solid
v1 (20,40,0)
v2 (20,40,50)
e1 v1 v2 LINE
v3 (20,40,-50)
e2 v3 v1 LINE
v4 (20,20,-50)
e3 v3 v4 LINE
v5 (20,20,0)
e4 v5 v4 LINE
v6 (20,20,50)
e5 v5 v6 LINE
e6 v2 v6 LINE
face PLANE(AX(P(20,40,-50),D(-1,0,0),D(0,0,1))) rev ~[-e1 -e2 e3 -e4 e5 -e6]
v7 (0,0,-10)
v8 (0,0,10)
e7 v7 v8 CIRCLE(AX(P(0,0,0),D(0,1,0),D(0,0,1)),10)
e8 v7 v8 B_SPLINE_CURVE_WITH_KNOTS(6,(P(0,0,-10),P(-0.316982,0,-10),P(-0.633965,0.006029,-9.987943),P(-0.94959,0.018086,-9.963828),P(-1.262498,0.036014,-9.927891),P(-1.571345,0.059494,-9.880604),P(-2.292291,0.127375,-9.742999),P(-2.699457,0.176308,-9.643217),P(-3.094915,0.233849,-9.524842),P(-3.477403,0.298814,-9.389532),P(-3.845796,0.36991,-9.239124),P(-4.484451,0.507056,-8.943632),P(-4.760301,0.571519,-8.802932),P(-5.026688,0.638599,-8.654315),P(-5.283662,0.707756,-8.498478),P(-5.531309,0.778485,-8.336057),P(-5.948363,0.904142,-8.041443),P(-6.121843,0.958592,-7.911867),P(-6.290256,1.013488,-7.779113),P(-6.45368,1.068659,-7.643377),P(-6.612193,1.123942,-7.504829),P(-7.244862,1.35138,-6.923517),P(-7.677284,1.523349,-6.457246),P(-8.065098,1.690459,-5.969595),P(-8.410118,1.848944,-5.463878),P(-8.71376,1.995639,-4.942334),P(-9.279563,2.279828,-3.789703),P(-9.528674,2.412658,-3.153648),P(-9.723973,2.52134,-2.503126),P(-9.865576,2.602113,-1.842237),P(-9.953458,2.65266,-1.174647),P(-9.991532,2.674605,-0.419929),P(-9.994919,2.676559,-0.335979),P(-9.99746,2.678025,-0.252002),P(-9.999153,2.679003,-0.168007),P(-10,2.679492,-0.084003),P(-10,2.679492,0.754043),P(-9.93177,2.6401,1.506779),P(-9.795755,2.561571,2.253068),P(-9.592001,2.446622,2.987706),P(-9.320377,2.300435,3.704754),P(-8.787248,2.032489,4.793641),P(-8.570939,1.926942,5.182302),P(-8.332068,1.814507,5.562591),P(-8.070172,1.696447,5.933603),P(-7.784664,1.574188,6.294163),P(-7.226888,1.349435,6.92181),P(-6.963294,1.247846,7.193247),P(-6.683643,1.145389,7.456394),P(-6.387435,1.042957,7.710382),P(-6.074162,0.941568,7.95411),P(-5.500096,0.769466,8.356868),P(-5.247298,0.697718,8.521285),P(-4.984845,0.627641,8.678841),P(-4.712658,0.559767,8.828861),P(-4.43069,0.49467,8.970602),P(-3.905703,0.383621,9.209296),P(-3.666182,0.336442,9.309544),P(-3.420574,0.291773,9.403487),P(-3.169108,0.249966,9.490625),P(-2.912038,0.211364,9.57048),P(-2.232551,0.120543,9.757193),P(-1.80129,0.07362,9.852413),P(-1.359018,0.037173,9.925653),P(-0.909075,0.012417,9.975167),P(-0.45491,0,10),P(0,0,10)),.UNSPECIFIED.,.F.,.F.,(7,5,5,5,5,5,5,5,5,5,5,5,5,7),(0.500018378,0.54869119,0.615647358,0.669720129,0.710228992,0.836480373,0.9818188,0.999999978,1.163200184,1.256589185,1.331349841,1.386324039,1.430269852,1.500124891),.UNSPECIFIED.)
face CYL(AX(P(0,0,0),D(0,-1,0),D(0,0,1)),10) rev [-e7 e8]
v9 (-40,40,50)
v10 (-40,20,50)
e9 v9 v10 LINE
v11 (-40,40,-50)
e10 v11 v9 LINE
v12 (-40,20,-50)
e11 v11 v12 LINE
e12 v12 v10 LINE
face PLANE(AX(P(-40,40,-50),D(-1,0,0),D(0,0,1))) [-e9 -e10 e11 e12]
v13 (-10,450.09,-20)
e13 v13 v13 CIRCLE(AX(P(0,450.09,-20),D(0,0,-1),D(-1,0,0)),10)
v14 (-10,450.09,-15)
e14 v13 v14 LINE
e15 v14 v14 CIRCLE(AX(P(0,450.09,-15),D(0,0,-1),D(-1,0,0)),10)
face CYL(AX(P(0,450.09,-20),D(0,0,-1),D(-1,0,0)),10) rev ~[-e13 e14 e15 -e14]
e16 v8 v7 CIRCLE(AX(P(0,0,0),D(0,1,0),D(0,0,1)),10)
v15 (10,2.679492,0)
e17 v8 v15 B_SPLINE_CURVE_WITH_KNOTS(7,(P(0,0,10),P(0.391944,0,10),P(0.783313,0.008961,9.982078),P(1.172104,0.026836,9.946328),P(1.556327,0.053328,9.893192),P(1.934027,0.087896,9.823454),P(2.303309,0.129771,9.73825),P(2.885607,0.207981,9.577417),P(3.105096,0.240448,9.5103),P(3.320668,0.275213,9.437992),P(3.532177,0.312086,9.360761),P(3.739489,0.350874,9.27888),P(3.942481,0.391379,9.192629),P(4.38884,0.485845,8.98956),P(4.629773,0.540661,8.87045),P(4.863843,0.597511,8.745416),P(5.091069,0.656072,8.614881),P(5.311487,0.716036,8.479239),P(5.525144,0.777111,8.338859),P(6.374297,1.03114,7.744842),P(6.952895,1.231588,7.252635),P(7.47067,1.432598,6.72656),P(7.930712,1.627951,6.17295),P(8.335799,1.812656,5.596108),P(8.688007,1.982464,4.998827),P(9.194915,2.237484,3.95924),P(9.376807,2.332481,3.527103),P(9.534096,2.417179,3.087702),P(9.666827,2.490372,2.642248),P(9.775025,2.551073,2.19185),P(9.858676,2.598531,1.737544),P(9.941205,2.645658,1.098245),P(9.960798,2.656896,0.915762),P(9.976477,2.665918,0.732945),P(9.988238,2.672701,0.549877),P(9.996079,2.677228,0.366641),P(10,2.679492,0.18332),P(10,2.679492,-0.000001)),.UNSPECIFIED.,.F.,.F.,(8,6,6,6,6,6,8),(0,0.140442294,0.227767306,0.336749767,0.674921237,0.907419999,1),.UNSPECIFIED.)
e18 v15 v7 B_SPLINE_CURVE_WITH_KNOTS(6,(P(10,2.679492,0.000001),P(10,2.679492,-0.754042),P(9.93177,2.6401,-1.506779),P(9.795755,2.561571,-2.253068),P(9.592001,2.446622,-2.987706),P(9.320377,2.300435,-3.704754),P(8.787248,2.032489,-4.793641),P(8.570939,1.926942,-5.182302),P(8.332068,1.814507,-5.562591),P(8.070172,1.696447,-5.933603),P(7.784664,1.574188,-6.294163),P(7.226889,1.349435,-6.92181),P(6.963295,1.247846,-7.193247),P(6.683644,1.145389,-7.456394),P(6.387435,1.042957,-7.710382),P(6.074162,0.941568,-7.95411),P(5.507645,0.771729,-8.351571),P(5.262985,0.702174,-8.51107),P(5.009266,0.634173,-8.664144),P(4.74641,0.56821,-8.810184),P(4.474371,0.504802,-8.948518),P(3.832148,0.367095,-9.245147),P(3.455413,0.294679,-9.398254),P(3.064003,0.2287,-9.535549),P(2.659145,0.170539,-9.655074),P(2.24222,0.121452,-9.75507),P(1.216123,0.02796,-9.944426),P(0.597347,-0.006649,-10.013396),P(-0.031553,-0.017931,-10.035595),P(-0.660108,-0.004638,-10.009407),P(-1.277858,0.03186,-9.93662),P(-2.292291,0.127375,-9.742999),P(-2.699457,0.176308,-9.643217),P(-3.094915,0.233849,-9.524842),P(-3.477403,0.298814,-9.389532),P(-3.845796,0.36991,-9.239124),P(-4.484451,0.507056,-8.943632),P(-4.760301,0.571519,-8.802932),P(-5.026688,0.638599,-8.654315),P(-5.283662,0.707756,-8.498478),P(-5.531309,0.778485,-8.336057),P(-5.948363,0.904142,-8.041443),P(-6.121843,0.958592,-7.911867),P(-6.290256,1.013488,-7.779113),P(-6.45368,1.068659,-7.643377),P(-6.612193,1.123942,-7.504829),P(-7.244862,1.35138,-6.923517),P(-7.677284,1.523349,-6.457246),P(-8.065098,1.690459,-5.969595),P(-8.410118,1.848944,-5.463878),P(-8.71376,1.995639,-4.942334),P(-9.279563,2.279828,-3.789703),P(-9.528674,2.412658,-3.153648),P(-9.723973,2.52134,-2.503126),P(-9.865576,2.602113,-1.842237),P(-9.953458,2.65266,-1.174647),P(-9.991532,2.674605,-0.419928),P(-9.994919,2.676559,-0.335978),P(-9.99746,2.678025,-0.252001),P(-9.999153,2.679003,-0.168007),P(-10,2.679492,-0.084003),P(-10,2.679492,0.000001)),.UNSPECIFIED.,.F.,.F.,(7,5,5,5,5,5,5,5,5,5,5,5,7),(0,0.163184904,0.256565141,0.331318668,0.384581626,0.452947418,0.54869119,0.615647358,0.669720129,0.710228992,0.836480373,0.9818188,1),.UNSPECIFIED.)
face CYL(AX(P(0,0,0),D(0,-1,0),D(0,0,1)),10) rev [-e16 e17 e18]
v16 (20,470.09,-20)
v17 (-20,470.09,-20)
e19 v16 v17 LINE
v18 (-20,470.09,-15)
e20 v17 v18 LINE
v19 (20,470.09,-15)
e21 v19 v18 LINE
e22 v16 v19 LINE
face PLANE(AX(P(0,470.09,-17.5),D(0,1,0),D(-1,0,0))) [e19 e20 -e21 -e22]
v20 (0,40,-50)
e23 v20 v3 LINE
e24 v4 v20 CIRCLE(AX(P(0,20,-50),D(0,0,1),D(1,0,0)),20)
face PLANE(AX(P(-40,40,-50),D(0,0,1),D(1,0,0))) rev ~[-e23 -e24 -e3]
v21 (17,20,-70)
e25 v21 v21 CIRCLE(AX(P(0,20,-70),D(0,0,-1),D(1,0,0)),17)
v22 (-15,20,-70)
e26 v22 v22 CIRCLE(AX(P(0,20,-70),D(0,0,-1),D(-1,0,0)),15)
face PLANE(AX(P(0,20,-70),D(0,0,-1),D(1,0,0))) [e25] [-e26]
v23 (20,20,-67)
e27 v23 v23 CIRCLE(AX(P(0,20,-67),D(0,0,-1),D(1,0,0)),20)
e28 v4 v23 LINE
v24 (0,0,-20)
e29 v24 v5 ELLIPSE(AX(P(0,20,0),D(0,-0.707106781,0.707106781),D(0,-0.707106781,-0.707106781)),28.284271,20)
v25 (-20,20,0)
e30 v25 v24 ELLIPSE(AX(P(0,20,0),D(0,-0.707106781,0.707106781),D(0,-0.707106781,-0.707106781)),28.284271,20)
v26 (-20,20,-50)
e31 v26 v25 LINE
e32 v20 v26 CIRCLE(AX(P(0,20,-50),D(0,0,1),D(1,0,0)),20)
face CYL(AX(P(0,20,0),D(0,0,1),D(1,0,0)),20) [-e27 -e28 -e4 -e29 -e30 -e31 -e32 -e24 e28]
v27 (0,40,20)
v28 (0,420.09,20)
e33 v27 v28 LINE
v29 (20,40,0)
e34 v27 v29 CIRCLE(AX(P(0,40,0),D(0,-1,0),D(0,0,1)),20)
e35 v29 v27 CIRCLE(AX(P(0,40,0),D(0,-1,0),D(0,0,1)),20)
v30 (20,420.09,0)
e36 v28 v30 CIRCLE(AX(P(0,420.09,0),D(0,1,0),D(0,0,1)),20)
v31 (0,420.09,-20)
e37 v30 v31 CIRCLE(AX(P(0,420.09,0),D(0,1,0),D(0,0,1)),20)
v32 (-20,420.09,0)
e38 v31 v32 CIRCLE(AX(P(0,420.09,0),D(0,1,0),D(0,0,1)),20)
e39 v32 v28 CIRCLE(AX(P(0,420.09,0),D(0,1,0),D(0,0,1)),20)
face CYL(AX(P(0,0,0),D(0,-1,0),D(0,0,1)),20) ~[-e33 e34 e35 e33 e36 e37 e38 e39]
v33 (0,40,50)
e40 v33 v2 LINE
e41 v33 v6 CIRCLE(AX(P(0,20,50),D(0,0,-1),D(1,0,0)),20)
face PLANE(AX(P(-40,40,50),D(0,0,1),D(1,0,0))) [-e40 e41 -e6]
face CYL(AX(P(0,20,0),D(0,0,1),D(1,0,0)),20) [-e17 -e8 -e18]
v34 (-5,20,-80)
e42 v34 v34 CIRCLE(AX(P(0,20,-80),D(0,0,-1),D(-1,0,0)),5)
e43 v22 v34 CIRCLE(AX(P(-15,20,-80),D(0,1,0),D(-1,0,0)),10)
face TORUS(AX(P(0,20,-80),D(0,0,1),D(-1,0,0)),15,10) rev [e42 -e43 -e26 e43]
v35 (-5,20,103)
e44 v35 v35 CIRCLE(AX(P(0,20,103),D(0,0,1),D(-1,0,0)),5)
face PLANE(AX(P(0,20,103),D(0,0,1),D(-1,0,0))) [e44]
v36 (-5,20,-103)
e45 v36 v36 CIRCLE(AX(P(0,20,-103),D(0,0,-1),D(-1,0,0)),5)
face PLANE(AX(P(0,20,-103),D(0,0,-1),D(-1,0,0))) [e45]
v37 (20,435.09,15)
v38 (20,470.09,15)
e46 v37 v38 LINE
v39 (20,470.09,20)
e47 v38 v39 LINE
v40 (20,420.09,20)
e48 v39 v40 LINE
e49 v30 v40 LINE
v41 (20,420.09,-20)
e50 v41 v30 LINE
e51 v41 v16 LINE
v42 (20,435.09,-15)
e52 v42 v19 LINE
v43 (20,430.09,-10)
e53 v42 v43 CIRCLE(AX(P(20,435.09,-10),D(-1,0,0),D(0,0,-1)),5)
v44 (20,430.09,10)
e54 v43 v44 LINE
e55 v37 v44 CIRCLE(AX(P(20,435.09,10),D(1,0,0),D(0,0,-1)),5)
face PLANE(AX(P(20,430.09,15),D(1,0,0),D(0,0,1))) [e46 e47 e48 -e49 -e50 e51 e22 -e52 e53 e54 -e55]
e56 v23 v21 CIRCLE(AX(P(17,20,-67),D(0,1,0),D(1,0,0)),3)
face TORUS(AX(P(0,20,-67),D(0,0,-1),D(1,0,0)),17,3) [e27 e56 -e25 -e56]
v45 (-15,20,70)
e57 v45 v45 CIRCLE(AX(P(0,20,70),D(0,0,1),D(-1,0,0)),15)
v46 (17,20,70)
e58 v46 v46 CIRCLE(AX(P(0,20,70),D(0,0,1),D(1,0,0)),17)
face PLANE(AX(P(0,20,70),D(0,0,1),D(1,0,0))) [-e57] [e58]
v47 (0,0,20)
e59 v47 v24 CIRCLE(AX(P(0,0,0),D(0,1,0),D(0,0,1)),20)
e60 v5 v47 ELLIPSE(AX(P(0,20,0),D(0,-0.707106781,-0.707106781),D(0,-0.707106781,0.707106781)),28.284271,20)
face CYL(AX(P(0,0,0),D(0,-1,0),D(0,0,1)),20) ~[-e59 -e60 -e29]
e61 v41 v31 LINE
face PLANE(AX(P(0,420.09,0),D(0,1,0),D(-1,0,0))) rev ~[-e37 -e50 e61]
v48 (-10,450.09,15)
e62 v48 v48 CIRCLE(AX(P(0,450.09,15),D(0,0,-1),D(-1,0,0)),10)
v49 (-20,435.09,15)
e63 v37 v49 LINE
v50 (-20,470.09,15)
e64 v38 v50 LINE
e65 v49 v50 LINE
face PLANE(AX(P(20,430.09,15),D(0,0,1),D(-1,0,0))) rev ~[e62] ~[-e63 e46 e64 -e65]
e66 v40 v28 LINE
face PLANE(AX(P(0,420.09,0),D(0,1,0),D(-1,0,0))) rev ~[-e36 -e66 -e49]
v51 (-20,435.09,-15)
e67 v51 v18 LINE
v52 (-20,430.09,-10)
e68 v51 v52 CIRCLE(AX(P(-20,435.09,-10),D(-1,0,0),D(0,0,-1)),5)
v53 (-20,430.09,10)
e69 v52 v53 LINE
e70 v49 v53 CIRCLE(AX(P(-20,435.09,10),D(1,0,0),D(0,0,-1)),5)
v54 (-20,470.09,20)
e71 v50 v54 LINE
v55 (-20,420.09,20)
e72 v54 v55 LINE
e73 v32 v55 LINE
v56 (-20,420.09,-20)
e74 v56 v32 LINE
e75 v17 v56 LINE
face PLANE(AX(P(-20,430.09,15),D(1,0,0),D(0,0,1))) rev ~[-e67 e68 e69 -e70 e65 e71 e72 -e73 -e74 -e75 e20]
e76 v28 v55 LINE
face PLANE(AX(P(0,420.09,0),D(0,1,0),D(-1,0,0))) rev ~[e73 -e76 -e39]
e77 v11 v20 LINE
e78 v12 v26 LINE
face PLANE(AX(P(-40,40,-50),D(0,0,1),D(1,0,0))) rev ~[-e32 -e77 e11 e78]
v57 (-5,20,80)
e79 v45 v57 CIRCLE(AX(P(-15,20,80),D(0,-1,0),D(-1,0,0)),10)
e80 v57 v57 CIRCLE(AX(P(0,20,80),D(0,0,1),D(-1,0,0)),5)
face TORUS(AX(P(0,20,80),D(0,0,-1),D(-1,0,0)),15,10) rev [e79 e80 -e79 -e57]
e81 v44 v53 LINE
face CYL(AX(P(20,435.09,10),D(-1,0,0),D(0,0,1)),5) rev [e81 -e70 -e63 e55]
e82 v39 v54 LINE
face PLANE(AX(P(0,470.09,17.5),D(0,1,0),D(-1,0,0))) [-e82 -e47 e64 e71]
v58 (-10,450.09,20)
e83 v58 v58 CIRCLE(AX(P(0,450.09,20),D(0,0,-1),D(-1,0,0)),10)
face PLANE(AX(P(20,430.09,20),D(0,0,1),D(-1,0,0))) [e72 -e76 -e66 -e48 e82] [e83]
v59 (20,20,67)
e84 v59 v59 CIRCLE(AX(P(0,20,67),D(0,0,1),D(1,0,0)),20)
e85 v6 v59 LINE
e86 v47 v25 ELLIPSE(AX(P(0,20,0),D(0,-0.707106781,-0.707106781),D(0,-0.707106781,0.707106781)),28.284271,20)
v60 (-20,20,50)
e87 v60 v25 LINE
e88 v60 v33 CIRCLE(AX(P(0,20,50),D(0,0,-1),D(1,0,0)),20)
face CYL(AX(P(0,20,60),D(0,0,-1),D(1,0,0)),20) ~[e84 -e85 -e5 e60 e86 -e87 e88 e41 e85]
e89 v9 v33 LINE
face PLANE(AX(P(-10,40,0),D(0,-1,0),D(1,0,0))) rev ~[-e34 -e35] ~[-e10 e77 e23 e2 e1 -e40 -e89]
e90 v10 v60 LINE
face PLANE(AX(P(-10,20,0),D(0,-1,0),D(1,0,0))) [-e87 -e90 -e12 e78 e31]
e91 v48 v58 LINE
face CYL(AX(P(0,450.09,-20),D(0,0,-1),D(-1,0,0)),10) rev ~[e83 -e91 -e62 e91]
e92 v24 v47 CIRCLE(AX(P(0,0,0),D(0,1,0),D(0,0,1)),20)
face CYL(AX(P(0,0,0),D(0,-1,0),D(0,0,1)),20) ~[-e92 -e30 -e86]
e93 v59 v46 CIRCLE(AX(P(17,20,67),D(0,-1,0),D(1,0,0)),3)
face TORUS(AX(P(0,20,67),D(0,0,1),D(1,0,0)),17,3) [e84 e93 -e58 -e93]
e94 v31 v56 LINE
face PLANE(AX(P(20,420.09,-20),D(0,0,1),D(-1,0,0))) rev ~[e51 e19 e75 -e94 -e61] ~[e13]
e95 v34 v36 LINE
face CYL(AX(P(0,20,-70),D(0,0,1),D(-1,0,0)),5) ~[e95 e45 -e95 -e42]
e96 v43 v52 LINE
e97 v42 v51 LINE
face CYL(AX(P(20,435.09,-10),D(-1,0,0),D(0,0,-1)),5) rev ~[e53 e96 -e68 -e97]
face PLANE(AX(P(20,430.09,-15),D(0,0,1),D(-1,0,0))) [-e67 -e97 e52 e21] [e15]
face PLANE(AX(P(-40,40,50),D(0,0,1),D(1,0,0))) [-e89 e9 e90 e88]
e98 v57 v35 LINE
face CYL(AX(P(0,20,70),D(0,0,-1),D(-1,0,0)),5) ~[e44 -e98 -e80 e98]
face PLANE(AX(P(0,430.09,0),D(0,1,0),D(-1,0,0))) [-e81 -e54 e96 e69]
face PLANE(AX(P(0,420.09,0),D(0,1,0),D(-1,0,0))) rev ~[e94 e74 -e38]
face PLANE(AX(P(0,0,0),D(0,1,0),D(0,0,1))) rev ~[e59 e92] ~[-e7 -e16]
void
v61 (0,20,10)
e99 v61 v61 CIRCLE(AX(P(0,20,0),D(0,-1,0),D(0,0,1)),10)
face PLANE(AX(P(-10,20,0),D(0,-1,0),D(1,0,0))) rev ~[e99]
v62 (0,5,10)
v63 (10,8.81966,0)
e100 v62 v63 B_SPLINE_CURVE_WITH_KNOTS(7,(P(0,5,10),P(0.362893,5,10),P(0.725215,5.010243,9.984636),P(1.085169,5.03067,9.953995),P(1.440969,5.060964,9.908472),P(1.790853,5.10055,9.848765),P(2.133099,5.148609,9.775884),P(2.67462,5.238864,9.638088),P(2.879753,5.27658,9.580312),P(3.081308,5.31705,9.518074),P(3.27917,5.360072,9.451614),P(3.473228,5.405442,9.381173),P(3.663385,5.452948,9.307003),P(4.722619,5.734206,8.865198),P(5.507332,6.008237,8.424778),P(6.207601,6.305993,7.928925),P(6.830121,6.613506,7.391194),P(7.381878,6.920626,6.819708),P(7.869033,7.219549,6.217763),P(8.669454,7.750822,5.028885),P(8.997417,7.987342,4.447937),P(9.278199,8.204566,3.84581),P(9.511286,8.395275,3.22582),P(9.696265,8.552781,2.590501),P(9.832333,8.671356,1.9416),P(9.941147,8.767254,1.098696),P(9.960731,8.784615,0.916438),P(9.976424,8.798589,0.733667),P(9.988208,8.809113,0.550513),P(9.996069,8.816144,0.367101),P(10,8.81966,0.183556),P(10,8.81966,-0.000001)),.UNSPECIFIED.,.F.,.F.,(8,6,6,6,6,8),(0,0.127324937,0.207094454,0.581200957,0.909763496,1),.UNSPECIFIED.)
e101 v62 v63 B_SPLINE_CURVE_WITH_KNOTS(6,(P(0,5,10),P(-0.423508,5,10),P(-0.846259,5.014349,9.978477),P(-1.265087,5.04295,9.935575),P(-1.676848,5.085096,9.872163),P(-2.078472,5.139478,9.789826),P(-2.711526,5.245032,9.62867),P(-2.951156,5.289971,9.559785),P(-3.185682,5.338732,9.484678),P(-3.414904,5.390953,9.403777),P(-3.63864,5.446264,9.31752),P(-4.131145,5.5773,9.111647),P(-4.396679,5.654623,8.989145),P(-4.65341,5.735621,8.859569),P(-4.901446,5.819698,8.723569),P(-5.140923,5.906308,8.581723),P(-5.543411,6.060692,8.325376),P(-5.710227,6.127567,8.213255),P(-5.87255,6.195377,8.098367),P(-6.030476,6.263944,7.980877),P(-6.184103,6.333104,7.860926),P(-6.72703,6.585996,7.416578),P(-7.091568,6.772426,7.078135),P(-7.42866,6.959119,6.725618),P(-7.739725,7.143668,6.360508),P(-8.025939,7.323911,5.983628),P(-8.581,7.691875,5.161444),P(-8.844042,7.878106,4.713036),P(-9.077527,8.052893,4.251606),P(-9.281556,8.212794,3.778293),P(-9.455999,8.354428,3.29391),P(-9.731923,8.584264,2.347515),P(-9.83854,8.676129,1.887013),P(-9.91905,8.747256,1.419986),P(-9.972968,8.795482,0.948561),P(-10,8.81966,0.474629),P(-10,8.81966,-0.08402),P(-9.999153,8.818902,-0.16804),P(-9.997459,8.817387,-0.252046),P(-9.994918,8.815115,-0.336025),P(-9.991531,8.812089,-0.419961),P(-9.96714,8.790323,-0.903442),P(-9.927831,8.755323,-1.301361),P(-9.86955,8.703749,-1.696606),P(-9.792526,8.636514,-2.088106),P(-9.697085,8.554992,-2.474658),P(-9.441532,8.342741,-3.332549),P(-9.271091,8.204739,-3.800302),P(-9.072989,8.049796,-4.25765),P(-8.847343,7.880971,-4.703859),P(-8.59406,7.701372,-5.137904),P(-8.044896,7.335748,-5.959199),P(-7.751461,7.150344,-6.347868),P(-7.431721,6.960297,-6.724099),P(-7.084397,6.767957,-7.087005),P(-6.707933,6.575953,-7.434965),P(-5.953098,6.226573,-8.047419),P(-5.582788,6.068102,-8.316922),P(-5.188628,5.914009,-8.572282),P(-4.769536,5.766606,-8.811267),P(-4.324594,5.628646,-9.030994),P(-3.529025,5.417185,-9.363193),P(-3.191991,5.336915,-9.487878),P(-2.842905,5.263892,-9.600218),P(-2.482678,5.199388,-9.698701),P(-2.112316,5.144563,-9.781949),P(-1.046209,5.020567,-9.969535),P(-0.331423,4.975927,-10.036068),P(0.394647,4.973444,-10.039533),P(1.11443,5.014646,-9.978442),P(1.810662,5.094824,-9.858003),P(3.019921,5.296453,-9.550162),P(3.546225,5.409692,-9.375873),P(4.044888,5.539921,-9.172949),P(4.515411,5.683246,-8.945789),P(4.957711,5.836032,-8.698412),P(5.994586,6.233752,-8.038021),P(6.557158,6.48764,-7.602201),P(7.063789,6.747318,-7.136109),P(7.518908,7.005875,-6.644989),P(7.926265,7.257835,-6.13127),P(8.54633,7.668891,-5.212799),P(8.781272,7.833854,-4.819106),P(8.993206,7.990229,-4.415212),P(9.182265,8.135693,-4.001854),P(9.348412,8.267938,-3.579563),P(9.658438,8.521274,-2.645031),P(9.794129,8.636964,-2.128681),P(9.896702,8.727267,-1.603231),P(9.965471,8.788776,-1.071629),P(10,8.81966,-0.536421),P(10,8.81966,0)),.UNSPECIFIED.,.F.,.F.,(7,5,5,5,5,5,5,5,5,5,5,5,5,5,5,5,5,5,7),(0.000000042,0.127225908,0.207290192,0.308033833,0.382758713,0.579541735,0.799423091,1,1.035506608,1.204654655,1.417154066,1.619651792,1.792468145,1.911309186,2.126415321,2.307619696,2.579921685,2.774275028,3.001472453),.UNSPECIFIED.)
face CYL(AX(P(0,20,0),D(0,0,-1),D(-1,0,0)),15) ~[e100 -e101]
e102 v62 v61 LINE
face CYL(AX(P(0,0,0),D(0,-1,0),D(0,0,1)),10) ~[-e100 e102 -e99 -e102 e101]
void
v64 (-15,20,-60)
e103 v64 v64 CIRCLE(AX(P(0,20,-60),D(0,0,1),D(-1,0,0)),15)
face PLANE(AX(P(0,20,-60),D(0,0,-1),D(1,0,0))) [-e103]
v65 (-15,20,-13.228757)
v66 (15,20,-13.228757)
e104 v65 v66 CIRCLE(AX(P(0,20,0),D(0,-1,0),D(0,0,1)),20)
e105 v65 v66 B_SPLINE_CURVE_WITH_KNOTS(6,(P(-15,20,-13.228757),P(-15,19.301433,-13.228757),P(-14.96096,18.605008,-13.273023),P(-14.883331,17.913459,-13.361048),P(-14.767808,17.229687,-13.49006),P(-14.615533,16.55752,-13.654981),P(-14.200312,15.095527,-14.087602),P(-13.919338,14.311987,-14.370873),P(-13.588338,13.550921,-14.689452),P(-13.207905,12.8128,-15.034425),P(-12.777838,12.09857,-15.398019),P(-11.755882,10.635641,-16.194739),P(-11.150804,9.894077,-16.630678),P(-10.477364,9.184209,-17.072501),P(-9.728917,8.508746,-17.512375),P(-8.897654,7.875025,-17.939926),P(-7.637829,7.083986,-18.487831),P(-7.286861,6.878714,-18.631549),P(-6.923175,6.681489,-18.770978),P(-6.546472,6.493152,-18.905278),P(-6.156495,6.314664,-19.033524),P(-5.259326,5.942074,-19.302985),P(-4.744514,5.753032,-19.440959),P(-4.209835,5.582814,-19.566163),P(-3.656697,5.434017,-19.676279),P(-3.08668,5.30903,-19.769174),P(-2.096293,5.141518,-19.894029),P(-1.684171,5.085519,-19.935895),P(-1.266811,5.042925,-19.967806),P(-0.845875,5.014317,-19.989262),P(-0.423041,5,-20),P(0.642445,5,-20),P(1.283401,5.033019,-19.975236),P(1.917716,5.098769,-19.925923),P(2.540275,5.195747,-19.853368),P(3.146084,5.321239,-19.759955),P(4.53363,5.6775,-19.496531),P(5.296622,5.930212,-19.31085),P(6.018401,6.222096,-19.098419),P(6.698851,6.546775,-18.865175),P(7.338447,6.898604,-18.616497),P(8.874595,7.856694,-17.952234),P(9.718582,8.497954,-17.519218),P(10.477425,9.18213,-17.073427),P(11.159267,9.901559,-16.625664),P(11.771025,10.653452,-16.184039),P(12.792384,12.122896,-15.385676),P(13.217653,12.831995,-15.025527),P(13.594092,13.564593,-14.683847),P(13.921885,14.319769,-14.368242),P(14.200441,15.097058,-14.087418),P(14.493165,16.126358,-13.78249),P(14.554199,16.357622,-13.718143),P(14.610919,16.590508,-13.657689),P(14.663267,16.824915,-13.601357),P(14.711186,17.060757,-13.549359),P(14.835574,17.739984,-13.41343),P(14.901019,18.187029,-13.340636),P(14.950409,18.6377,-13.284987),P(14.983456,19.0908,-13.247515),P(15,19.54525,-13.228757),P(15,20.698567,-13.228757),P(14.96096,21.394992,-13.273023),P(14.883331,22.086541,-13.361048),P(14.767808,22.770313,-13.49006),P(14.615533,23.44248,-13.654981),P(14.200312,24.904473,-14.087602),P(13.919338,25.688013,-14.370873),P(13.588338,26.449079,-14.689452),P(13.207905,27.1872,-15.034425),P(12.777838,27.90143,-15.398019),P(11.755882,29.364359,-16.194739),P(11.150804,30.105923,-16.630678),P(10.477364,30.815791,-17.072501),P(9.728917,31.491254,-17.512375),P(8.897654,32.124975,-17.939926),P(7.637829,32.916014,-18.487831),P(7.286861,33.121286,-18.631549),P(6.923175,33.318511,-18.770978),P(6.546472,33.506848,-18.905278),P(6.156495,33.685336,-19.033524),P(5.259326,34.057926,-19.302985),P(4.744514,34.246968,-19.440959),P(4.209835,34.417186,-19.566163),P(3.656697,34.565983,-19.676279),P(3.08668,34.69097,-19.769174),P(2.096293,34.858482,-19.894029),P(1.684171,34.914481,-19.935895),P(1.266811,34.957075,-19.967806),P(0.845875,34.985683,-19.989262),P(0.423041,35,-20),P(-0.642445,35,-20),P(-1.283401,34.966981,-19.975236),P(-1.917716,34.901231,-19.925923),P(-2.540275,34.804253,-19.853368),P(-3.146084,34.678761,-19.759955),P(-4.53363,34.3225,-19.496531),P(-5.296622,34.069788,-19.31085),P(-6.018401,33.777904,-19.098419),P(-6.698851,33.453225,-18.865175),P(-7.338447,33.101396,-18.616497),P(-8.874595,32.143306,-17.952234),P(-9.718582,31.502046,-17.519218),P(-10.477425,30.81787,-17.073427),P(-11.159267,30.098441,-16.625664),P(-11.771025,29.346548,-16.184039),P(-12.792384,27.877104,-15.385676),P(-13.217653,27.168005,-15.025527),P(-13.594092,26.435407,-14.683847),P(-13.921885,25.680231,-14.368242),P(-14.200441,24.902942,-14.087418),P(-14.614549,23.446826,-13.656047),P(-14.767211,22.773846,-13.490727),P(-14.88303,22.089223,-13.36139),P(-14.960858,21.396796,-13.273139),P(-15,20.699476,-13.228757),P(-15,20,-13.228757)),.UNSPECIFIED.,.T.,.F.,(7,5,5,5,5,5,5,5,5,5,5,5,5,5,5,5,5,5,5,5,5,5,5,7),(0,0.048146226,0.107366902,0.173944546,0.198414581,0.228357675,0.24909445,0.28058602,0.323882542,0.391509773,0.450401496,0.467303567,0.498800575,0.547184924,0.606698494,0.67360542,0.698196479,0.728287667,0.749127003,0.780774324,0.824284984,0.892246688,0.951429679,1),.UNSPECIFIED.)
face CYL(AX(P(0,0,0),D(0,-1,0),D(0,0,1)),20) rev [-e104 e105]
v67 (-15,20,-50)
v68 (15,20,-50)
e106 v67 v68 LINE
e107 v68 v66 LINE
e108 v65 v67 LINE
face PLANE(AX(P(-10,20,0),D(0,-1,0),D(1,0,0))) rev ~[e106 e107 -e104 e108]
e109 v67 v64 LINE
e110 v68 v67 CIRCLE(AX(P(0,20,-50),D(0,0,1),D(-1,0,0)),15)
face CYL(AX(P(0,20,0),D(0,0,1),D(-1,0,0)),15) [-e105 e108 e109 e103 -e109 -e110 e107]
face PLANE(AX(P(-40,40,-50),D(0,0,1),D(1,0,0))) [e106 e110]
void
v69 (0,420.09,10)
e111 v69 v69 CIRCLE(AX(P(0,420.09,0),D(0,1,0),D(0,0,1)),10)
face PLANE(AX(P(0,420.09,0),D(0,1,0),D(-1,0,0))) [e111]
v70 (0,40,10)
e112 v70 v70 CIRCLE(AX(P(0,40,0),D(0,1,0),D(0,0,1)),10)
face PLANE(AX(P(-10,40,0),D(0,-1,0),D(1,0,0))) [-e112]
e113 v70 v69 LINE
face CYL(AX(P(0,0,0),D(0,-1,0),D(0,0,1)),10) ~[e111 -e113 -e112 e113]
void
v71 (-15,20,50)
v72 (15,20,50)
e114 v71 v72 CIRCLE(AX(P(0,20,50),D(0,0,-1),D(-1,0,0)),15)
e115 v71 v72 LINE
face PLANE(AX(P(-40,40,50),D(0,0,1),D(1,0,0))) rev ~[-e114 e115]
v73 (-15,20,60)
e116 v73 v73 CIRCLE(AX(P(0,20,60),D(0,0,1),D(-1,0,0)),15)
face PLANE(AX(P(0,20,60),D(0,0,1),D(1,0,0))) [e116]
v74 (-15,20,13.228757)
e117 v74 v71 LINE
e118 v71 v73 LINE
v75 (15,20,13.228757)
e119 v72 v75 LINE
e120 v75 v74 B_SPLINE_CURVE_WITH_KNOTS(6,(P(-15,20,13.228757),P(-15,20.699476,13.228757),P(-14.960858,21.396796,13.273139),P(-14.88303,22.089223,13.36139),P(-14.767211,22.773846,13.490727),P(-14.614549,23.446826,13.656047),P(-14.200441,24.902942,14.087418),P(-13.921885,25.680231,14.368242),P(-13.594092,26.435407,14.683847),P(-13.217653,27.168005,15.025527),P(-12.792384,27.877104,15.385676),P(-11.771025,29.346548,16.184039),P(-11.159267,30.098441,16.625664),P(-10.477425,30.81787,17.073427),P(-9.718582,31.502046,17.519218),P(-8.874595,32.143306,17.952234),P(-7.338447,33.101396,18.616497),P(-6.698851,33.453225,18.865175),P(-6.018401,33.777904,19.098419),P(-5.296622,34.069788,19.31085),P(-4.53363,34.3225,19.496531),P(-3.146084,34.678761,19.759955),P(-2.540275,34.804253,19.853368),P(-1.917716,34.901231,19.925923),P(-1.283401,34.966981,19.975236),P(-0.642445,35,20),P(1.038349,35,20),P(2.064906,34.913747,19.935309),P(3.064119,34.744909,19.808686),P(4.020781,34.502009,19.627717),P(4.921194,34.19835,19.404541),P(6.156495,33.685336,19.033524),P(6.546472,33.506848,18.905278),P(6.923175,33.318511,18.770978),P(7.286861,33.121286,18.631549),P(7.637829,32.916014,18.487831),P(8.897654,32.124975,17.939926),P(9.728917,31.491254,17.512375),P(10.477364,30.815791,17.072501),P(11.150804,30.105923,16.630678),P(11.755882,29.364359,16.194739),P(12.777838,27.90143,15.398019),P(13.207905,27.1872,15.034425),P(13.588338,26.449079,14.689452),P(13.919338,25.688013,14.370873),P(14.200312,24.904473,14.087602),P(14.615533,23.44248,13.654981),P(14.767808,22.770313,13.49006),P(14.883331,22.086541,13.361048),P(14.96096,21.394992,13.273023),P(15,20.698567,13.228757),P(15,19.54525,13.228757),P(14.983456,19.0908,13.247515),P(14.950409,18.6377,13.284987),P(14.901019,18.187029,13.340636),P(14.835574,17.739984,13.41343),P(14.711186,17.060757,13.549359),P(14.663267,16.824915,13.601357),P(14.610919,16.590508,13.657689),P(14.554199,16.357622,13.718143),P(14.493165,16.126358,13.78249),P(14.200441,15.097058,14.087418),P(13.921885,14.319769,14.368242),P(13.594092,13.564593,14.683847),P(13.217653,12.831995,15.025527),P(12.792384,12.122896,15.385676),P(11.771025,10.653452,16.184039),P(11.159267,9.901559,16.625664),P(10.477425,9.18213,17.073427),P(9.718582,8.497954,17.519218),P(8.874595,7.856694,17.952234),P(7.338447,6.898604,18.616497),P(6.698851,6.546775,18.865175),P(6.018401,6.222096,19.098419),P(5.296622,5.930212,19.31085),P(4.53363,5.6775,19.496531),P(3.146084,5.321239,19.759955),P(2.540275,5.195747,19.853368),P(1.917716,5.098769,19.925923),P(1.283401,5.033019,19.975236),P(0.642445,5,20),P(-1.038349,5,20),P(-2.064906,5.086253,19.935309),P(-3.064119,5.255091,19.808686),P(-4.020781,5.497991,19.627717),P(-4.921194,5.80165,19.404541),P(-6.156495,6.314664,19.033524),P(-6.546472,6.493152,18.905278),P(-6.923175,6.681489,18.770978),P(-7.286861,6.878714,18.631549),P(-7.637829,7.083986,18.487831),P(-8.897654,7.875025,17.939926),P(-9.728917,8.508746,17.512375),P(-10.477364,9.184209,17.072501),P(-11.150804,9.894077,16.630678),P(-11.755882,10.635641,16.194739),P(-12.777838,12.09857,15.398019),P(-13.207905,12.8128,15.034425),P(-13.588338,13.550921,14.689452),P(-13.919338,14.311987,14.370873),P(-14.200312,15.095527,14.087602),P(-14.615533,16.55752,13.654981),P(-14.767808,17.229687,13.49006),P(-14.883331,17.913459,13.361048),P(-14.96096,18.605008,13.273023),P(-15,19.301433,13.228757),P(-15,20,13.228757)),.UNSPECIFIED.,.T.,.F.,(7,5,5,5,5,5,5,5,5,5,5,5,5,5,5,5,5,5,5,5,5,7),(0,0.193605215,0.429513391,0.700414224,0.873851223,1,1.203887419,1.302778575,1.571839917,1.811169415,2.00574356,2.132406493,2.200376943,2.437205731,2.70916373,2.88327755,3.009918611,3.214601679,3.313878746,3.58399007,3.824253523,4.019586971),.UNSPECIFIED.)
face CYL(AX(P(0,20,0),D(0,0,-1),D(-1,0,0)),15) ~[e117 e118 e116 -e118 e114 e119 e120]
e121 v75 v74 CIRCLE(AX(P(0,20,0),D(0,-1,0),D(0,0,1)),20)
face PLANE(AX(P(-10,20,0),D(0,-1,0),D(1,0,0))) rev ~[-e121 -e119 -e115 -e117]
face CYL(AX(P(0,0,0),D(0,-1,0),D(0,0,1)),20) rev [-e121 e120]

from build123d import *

# Parameters (mm, degrees)
SKETCH2_R           = 20
SKETCH2_R_2         = 10
EXTRUDE1_DEPTH      = 420.09
SKETCH3_R           = 20
SKETCH3_R_2         = 15
EXTRUDE2_DEPTH      = 60
EXTRUDE2_DEPTH_BACK = 60
SKETCH4_R           = 20
EXTRUDE3_DEPTH      = 10
SKETCH5_R           = 20
EXTRUDE4_DEPTH      = 10
SKETCH6_R           = 5
EXTRUDE5_DEPTH      = 33
SKETCH7_R           = 5
EXTRUDE6_DEPTH      = 33
SKETCH8_W           = 40
SKETCH8_H           = 40
EXTRUDE7_DEPTH      = 10
SKETCH9_W           = 40
SKETCH9_H           = 5
EXTRUDE8_DEPTH      = 40
SKETCH10_R          = 10
CUT_EXTRUDE1_DEPTH  = 124
FILLET1_R           = 3
FILLET2_R           = 3
SKETCH11_W          = 60
SKETCH11_H          = 100
EXTRUDE9_DEPTH      = 20
FILLET3_R           = 10
FILLET4_R           = 5


with BuildPart() as part:
    # Sketch2 → Extrude1 (new body)
    with BuildSketch(Plane(origin=(0, 0, 0), x_dir=(1, 0, 0), z_dir=(0, 1, 0))):
        with Locations(Location((0, 0, 0), (0, 0, 270))):  # turned: the seam where the file's is
            Circle(SKETCH2_R)
        with Locations(Location((0, 0, 0), (0, 0, 270))):  # turned: the seam where the file's is
            Circle(SKETCH2_R_2, mode=Mode.SUBTRACT)
    extrude(amount=EXTRUDE1_DEPTH)

    # Sketch3 → Extrude2 (add, two sides)
    with BuildSketch(Plane.XY) as extrude2_sk:
        with Locations((0, 20)):
            Circle(SKETCH3_R)
        with Locations(Location((0, 20, 0), (0, 0, 180))):  # turned: the seam where the file's is
            Circle(SKETCH3_R_2, mode=Mode.SUBTRACT)
    extrude(amount=EXTRUDE2_DEPTH)
    extrude(extrude2_sk.sketch, amount=-EXTRUDE2_DEPTH_BACK)

    # Sketch4 → Extrude3 (add)
    with BuildSketch(Plane.XY.offset(60)):
        with Locations((0, 20)):
            Circle(SKETCH4_R)
    extrude(amount=EXTRUDE3_DEPTH)

    # Sketch5 → Extrude4 (add)
    with BuildSketch(Plane(origin=(0, 0, -60), x_dir=(-1, 0, 0), z_dir=(0, 0, -1))):
        with Locations(Location((0, 20, 0), (0, 0, 180))):  # turned: the seam where the file's is
            Circle(SKETCH5_R)
    extrude(amount=EXTRUDE4_DEPTH)

    # Sketch6 → Extrude5 (add)
    with BuildSketch(Plane(origin=(0, 0, -70), x_dir=(-1, 0, 0), z_dir=(0, 0, -1))):
        with Locations((0, 20)):
            Circle(SKETCH6_R)
    extrude(amount=EXTRUDE5_DEPTH)

    # Sketch7 → Extrude6 (add)
    with BuildSketch(Plane.XY.offset(70)):
        with Locations(Location((0, 20, 0), (0, 0, 180))):  # turned: the seam where the file's is
            Circle(SKETCH7_R)
    extrude(amount=EXTRUDE6_DEPTH)

    # Sketch8 → Extrude7 (add)
    with BuildSketch(Plane(origin=(0, 420.09, 0), x_dir=(-1, 0, 0), z_dir=(0, 1, 0))):
        Rectangle(SKETCH8_W, SKETCH8_H)
    extrude(amount=EXTRUDE7_DEPTH)

    # Sketch9 → Extrude8 (add)
    with BuildSketch(Plane(origin=(0, 430.09, 0), x_dir=(-1, 0, 0), z_dir=(0, 1, 0))):
        with Locations((0, 17.5)):
            Rectangle(SKETCH9_W, SKETCH9_H)
        with Locations((0, -17.5)):
            Rectangle(SKETCH9_W, SKETCH9_H)
    extrude(amount=EXTRUDE8_DEPTH)

    # Sketch10 → Cut-Extrude1 (cut, through all)
    with BuildSketch(Plane(origin=(0, 0, -20), x_dir=(-1, 0, 0), z_dir=(0, 0, -1))):
        with Locations((0, 450.09)):
            Circle(SKETCH10_R)
    extrude(amount=-CUT_EXTRUDE1_DEPTH, mode=Mode.SUBTRACT)

    # Fillet1
    fillet1_edges = [part.edges().sort_by_distance(p)[0] for p in [
        (-20, 20, 70),
    ]]
    fillet(fillet1_edges, radius=FILLET1_R)

    # Fillet2
    fillet2_edges = [part.edges().sort_by_distance(p)[0] for p in [
        (-20, 20, -70),
    ]]
    fillet(fillet2_edges, radius=FILLET2_R)

    # Sketch11 → Extrude9 (add)
    with BuildSketch(Plane.XZ.offset(-40)):
        with Locations((-10, 0)):
            Rectangle(SKETCH11_W, SKETCH11_H)
    extrude(amount=EXTRUDE9_DEPTH)

    # Fillet3
    fillet3_edges = [part.edges().sort_by_distance(p)[0] for p in [
        (5, 20, -70),
        (5, 20, 70),
    ]]
    fillet(fillet3_edges, radius=FILLET3_R)

    # Fillet4
    fillet4_edges = [part.edges().sort_by_distance(p)[0] for p in [
        (0, 430.09, -15),
        (0, 430.09, 15),
    ]]
    fillet(fillet4_edges, radius=FILLET4_R)


solid = part.part
